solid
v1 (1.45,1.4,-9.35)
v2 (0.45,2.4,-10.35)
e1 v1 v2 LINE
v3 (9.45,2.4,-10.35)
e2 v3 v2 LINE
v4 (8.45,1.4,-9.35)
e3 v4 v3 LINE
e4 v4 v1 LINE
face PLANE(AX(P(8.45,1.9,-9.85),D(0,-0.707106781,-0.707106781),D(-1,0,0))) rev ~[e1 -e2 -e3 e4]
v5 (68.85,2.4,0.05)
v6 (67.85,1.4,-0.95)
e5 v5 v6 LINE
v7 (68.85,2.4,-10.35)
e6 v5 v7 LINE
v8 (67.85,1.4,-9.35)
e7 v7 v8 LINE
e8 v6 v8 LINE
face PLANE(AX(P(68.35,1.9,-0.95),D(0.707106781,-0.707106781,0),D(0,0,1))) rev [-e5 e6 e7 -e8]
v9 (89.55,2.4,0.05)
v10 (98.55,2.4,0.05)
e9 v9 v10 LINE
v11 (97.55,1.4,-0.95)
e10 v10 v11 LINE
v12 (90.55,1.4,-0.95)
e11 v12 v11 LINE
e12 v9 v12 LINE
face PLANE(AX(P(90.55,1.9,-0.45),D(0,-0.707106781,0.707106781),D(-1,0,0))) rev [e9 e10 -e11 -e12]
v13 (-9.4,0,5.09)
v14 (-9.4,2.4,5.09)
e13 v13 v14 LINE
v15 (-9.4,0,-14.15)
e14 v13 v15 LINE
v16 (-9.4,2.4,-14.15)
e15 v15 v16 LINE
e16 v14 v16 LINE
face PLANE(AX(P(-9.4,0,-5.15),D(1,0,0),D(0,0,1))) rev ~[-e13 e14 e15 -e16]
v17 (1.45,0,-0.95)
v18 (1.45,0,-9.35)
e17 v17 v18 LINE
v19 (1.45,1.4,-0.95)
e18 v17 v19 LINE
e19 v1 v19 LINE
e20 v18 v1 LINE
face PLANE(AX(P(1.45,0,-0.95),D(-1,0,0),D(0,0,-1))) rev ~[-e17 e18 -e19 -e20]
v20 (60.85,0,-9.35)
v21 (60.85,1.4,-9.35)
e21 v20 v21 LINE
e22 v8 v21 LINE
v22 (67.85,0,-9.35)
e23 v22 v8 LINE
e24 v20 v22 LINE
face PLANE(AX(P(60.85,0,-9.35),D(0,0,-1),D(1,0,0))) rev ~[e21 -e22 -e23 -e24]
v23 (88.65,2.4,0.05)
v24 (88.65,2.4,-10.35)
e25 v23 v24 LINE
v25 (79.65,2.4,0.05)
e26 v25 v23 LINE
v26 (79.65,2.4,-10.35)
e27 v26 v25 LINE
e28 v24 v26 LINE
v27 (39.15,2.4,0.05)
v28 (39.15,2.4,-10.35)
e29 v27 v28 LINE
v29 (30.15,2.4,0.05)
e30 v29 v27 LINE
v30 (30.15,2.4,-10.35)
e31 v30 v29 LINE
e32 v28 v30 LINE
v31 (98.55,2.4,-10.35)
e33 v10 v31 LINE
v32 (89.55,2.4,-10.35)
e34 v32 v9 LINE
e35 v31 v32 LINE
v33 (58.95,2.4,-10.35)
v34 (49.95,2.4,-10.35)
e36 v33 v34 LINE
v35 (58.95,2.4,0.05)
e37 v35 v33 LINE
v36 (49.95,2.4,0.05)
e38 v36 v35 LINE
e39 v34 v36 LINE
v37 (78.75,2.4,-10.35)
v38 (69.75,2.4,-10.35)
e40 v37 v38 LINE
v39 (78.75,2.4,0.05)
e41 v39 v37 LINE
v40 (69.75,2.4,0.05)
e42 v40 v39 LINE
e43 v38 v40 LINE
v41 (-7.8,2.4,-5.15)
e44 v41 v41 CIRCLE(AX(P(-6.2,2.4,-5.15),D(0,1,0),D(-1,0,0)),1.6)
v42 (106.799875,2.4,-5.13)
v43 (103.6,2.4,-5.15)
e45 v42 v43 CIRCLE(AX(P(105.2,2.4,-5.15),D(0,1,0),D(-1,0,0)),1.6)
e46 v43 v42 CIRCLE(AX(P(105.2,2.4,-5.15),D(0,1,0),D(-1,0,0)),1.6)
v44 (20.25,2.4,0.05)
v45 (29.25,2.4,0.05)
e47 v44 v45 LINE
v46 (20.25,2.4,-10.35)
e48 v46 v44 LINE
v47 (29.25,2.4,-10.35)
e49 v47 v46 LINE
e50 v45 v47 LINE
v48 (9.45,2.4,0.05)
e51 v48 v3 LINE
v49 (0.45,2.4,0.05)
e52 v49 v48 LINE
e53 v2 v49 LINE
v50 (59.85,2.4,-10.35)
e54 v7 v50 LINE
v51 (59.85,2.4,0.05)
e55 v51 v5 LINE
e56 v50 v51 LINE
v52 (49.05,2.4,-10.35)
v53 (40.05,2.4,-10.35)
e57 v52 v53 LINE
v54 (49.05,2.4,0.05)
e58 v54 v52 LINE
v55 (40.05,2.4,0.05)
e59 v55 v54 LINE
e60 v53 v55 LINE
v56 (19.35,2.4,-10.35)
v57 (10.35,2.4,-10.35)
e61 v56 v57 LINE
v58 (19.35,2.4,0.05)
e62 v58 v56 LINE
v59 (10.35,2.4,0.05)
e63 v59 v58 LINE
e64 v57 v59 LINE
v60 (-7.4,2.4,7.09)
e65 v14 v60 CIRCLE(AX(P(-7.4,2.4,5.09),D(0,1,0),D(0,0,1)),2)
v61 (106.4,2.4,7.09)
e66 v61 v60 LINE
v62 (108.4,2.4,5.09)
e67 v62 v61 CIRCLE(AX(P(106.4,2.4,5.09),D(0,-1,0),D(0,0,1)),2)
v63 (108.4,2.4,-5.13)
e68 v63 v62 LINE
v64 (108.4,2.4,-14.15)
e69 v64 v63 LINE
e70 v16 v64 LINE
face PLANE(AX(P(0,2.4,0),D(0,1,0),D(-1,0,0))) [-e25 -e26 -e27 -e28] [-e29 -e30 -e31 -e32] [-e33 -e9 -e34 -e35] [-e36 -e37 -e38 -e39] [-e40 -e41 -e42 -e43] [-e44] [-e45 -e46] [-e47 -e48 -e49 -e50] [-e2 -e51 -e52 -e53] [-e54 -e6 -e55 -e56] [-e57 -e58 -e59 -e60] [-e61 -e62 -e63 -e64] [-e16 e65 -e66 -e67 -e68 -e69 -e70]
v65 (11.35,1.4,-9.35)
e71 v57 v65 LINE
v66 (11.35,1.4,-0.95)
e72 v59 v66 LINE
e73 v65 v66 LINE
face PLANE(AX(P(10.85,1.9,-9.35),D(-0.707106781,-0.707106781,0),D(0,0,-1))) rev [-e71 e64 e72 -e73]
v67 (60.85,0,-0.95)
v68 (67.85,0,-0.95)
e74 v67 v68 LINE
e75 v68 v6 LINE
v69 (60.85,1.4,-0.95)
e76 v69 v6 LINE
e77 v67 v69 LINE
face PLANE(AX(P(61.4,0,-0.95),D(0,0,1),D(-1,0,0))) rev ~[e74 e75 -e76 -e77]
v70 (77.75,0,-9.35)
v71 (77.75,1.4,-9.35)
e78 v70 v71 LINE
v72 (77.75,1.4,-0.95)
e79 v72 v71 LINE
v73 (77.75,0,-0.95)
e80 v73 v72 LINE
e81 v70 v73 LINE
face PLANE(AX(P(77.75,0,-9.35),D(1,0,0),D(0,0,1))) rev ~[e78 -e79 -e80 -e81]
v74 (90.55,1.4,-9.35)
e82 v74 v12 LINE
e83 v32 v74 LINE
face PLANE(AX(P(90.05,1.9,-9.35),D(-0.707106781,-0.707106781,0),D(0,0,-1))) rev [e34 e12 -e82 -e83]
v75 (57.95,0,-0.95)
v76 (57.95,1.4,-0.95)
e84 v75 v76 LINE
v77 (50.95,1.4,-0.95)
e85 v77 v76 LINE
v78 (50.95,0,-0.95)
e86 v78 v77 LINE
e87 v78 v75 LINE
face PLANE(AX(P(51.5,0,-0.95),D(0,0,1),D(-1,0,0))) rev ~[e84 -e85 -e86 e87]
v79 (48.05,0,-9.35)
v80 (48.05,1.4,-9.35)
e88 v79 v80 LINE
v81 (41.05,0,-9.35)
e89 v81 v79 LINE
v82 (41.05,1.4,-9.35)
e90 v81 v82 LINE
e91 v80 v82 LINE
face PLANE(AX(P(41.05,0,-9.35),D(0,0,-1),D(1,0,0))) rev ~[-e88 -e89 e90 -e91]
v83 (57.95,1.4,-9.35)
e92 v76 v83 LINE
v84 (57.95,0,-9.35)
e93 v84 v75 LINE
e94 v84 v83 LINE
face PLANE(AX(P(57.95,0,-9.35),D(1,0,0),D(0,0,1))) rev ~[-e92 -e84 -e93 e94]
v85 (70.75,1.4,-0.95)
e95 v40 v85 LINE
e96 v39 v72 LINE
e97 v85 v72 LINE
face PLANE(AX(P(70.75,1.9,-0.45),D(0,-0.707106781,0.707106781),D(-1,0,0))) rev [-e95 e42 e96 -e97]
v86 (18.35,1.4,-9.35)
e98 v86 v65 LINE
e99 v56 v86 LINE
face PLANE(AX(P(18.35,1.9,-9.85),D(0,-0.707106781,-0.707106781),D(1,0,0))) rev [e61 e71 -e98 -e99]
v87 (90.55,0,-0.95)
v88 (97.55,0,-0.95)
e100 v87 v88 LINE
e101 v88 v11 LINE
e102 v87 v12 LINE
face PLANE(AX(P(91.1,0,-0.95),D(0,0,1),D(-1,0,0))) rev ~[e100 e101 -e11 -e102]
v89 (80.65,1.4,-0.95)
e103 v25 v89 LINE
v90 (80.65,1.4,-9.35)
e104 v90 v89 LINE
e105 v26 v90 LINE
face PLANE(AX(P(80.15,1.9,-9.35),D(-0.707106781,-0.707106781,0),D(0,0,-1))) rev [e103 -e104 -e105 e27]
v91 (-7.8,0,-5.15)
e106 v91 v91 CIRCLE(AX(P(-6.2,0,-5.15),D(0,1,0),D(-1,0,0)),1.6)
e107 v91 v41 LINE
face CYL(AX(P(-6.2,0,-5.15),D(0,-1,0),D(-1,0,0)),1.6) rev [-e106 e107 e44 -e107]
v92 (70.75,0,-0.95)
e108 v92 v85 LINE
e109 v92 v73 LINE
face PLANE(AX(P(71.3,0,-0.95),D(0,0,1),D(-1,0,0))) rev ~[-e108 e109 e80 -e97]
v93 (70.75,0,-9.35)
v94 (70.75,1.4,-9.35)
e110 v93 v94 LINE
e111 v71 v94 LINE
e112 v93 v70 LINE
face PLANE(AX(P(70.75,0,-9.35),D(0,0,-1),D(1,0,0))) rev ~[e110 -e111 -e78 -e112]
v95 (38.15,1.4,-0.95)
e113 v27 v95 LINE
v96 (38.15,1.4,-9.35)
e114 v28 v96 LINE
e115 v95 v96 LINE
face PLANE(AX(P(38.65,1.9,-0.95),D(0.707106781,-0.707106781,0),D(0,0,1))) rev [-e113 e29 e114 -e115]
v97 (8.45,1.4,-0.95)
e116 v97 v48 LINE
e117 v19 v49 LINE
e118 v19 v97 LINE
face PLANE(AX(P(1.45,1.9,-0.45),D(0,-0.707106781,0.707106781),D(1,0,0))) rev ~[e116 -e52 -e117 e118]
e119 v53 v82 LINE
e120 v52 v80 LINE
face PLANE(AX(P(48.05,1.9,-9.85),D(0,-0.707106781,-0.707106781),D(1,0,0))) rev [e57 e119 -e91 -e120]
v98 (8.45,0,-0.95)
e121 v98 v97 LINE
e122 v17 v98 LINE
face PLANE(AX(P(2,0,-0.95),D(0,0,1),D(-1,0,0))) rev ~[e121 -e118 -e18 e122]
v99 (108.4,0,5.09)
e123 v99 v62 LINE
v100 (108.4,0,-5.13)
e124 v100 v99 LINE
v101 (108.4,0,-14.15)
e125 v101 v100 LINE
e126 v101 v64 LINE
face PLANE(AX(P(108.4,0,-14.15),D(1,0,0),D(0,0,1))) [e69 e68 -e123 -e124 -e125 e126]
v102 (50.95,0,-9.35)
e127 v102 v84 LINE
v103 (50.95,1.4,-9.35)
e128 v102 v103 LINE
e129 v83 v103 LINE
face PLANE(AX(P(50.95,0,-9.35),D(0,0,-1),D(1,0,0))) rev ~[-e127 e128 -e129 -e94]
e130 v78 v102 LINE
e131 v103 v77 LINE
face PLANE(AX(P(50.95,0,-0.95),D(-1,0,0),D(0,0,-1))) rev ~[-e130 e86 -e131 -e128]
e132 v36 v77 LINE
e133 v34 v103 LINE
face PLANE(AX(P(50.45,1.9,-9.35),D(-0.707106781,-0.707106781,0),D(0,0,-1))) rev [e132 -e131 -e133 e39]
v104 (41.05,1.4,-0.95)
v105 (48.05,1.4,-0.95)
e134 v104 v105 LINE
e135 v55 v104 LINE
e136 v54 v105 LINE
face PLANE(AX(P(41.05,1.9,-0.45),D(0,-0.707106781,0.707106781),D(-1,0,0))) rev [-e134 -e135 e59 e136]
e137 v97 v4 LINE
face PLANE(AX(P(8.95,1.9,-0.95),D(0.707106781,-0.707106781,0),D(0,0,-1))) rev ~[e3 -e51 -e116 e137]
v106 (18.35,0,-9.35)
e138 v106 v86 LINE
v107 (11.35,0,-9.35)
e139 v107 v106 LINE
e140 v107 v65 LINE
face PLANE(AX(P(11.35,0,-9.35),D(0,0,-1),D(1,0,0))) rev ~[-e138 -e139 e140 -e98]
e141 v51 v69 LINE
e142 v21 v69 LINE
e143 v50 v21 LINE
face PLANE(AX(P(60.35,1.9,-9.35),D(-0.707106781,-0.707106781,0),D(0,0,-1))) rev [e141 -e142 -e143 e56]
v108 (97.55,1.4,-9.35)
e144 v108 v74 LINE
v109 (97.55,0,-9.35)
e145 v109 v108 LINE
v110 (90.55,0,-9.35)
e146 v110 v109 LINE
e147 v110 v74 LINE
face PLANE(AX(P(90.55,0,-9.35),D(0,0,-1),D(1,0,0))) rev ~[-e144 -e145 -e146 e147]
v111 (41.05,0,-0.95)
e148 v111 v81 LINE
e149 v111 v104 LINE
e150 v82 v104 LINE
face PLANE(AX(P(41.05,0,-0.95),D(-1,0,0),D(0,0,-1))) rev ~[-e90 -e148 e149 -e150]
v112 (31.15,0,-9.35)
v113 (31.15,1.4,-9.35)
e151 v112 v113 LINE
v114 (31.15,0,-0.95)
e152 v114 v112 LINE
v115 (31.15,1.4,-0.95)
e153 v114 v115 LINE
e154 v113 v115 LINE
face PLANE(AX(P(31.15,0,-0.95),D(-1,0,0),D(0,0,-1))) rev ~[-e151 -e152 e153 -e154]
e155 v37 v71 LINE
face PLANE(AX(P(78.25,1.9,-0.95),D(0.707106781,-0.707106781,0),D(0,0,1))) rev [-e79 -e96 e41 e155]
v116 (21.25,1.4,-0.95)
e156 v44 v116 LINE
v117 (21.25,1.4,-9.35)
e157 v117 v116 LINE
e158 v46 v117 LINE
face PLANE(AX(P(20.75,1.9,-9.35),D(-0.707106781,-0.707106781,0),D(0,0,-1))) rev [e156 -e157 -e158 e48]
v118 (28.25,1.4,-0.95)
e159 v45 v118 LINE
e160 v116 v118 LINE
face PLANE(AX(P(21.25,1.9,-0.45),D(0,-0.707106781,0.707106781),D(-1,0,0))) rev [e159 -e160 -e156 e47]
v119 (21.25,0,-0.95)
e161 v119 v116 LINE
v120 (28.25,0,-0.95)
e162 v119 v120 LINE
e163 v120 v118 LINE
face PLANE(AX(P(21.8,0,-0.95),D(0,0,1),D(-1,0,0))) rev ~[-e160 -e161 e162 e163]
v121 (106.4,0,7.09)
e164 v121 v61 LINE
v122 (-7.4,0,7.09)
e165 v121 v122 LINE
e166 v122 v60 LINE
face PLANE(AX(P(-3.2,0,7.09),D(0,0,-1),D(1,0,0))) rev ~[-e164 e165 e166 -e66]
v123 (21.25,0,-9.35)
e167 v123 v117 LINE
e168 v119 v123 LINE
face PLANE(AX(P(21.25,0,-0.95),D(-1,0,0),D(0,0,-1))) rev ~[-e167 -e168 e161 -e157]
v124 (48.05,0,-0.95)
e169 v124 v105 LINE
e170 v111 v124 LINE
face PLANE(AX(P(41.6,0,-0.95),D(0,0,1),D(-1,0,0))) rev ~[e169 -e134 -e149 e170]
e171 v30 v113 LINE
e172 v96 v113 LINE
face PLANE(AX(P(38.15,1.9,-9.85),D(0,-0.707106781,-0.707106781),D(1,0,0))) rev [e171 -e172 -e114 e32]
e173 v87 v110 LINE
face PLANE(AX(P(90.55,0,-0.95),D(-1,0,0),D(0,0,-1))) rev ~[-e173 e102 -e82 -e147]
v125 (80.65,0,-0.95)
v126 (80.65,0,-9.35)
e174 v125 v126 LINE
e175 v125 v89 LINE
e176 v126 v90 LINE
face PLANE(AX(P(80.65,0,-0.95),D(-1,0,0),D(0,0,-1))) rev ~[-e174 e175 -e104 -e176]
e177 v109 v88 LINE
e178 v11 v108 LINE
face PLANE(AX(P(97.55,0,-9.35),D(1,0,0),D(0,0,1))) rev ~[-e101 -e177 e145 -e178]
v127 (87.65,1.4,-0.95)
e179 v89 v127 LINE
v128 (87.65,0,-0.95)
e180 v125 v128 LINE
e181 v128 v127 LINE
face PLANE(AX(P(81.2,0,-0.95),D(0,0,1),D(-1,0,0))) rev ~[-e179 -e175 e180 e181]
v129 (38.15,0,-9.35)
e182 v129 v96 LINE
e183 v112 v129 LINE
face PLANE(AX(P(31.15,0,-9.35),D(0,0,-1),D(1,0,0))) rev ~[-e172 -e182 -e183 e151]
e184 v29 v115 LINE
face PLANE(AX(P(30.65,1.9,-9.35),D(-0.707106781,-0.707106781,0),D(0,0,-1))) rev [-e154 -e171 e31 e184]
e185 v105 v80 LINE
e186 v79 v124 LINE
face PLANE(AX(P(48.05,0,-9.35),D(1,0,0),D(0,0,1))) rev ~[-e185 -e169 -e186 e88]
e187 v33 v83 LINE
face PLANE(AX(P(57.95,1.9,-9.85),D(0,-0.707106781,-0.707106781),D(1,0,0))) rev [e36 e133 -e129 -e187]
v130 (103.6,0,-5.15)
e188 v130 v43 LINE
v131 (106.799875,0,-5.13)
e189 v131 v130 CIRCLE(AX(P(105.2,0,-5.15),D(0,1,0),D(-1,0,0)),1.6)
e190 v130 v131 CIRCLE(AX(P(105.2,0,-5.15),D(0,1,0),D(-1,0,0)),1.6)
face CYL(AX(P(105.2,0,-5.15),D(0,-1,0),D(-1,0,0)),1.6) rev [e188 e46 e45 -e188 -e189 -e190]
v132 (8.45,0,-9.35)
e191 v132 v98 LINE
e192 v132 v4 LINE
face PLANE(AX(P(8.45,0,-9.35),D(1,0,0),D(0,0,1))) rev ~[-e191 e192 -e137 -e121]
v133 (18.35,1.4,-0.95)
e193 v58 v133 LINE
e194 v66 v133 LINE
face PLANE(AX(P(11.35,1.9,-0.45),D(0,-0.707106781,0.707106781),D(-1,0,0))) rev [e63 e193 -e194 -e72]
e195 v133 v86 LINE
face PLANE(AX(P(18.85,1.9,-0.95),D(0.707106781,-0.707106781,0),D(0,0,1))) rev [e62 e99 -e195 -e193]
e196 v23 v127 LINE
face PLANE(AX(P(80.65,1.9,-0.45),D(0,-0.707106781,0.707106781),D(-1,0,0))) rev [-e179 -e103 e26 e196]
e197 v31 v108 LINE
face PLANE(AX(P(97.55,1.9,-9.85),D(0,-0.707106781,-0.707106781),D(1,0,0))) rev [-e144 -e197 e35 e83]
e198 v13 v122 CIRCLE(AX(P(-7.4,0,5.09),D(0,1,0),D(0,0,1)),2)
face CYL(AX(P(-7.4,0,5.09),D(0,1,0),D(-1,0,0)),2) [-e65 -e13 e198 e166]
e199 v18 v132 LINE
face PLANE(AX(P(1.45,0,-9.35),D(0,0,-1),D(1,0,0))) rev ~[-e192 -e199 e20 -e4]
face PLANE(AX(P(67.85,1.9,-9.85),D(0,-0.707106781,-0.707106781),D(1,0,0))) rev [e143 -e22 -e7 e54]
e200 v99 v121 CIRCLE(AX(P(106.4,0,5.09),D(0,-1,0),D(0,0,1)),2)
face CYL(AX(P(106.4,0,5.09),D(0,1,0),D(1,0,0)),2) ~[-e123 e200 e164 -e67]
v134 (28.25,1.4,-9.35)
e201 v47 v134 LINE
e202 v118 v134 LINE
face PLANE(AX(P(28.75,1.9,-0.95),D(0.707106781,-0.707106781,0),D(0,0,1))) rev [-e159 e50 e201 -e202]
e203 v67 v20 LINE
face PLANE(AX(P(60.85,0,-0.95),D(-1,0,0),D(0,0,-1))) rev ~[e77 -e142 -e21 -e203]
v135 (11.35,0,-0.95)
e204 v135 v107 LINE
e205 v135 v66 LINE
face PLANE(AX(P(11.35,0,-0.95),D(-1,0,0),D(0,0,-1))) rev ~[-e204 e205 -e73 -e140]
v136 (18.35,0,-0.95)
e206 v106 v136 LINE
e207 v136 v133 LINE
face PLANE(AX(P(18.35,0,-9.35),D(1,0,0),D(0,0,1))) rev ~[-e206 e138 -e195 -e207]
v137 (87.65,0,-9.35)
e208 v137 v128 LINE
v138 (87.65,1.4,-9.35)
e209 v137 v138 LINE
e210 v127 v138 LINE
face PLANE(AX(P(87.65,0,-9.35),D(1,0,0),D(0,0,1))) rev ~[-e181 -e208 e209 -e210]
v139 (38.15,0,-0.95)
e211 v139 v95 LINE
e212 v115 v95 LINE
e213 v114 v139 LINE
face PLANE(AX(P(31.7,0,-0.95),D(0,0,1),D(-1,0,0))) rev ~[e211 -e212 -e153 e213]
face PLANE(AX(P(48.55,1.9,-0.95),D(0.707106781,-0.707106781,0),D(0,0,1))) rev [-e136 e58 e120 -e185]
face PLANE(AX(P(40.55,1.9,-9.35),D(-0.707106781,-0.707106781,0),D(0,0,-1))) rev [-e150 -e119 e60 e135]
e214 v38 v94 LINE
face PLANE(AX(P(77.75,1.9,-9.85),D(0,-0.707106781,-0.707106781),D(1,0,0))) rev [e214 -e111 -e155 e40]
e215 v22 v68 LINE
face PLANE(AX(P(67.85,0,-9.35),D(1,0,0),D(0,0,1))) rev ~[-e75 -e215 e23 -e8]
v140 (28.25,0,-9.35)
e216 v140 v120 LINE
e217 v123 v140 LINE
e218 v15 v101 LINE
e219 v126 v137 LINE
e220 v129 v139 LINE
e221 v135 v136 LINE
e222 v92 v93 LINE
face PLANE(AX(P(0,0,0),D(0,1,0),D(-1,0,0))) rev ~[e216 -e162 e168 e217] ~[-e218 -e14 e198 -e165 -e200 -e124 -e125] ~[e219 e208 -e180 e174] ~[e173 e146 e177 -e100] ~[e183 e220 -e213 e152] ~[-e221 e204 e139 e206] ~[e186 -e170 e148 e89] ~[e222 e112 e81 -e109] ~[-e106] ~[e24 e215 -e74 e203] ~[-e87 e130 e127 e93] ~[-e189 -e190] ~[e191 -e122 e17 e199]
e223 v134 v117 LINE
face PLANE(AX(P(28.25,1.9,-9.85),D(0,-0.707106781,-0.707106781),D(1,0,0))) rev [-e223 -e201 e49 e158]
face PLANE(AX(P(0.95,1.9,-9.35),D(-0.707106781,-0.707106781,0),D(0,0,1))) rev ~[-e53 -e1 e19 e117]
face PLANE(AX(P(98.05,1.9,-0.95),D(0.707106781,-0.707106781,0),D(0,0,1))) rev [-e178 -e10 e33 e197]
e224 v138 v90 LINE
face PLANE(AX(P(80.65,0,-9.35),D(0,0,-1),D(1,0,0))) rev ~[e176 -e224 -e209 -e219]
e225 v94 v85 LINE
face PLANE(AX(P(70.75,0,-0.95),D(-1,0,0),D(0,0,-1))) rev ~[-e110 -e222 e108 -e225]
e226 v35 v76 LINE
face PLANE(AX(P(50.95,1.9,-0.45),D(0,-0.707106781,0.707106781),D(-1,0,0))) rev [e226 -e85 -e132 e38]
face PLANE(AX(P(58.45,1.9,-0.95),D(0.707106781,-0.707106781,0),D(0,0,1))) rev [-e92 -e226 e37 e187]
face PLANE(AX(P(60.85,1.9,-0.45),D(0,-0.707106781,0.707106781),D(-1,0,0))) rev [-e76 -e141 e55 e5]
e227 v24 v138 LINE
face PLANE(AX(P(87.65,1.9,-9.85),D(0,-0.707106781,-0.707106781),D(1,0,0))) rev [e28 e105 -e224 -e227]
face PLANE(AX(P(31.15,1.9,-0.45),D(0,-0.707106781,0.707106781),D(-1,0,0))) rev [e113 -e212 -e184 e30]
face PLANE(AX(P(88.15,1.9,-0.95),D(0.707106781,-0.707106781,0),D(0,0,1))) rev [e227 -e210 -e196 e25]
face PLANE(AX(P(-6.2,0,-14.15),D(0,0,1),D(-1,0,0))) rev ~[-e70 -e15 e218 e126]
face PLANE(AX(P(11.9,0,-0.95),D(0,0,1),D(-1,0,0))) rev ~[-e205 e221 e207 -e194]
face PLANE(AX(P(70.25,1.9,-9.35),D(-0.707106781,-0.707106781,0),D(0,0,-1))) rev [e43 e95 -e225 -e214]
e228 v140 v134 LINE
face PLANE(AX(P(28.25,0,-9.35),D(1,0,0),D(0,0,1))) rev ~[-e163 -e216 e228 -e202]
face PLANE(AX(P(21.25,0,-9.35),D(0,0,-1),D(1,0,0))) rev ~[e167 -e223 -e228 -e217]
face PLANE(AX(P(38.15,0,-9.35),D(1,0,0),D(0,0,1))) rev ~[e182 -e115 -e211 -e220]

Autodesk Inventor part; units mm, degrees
ref_plane "YZ Plane" through (0, 0, 0) normal (1, 0, 0) x (0, 1, 0)
ref_plane "XZ Plane" through (0, 0, 0) normal (0, 1, 0) x (-1, 0, 0)
ref_plane "XY Plane" through (0, 0, 0) normal (0, 0, 1) x (1, 0, 0)
sketch "Sketch1" plane through (0, 0, 0) normal (0, 1, 0) x (-1, 0, 0)
  line L0 (0, 0) -> (-9.9, 0)
  line L1 (0, 0) -> (0, -10.3)
  line L2 (0, -10.3) -> (-9.9, -10.3)
  line L3 (-9.9, -10.3) -> (-9.9, 0)
  line L4 (-9.9, -10.3) -> (-9.4, -10.3)
  line L5 (-9.4, -10.3) -> (-9.4, 0)
  line L6 (0, -10.3) -> (-0.5, -10.3)
  line L7 (-0.5, -10.3) -> (-0.5, 0)
  line L8 (-0.5, 0.85) -> (-9.9, 0.85)
  line L9 (-9.9, 0.85) -> (-9.9, 0)
  line L10 (0, 0) -> (0, 0.85)
  line L11 (0, 0.85) -> (-0.5, 0.85)
  line L12 (0, -10.3) -> (0, -11.15)
  line L13 (0, -11.15) -> (-9.9, -11.15)
  line L14 (-9.9, -11.15) -> (-9.9, -10.3)
  line L15 (-9.9, -11.15) -> (-19.8, -11.15)
  line L16 (-19.8, -11.15) -> (-19.8, -10.3)
  line L17 (-19.8, -10.3) -> (-19.8, 0)
  line L18 (-19.3, -10.3) -> (-19.3, 0)
  line L19 (-9.9, -10.3) -> (-19.8, -10.3)
  line L20 (-10.4, -10.3) -> (-10.4, 0)
  line L21 (-9.9, 0) -> (-9.9, -10.3)
  line L22 (-9.9, 0) -> (-9.9, 0.85)
  line L23 (-9.9, 0.85) -> (-10.4, 0.85)
  line L24 (-10.4, 0.85) -> (-19.8, 0.85)
  line L25 (-9.9, 0) -> (-19.8, 0)
  line L26 (-19.8, 0.85) -> (-19.8, 0)
  line L27 (-19.8, -11.15) -> (-29.7, -11.15)
  line L28 (-29.7, -11.15) -> (-29.7, -10.3)
  line L29 (-29.7, -10.3) -> (-29.7, 0)
  line L30 (-29.2, -10.3) -> (-29.2, 0)
  line L31 (-19.8, -10.3) -> (-29.7, -10.3)
  line L32 (-20.3, -10.3) -> (-20.3, 0)
  line L33 (-19.8, 0) -> (-19.8, -10.3)
  line L34 (-19.8, 0) -> (-19.8, 0.85)
  line L35 (-19.8, 0.85) -> (-20.3, 0.85)
  line L36 (-20.3, 0.85) -> (-29.7, 0.85)
  line L37 (-19.8, 0) -> (-29.7, 0)
  line L38 (-29.7, 0.85) -> (-29.7, 0)
  line L39 (-29.7, -11.15) -> (-39.6, -11.15)
  line L40 (-39.6, -11.15) -> (-39.6, -10.3)
  line L41 (-39.6, -10.3) -> (-39.6, 0)
  line L42 (-39.1, -10.3) -> (-39.1, 0)
  line L43 (-29.7, -10.3) -> (-39.6, -10.3)
  line L44 (-30.2, -10.3) -> (-30.2, 0)
  line L45 (-29.7, 0) -> (-29.7, -10.3)
  line L46 (-29.7, 0) -> (-29.7, 0.85)
  line L47 (-29.7, 0.85) -> (-30.2, 0.85)
  line L48 (-30.2, 0.85) -> (-39.6, 0.85)
  line L49 (-29.7, 0) -> (-39.6, 0)
  line L50 (-39.6, 0.85) -> (-39.6, 0)
  line L51 (-39.6, -11.15) -> (-49.5, -11.15)
  line L52 (-49.5, -11.15) -> (-49.5, -10.3)
  line L53 (-49.5, -10.3) -> (-49.5, 0)
  line L54 (-49, -10.3) -> (-49, 0)
  line L55 (-39.6, -10.3) -> (-49.5, -10.3)
  line L56 (-40.1, -10.3) -> (-40.1, 0)
  line L57 (-39.6, 0) -> (-39.6, -10.3)
  line L58 (-39.6, 0) -> (-39.6, 0.85)
  line L59 (-39.6, 0.85) -> (-40.1, 0.85)
  line L60 (-40.1, 0.85) -> (-49.5, 0.85)
  line L61 (-39.6, 0) -> (-49.5, 0)
  line L62 (-49.5, 0.85) -> (-49.5, 0)
  line L63 (-49.5, -11.15) -> (-59.4, -11.15)
  line L64 (-59.4, -11.15) -> (-59.4, -10.3)
  line L65 (-59.4, -10.3) -> (-59.4, 0)
  line L66 (-58.9, -10.3) -> (-58.9, 0)
  line L67 (-49.5, -10.3) -> (-59.4, -10.3)
  line L68 (-50, -10.3) -> (-50, 0)
  line L69 (-49.5, 0) -> (-49.5, -10.3)
  line L70 (-49.5, 0) -> (-49.5, 0.85)
  line L71 (-49.5, 0.85) -> (-50, 0.85)
  line L72 (-50, 0.85) -> (-59.4, 0.85)
  line L73 (-49.5, 0) -> (-59.4, 0)
  line L74 (-59.4, 0.85) -> (-59.4, 0)
  line L75 (-59.4, -11.15) -> (-69.3, -11.15)
  line L76 (-69.3, -11.15) -> (-69.3, -10.3)
  line L77 (-69.3, -10.3) -> (-69.3, 0)
  line L78 (-68.8, -10.3) -> (-68.8, 0)
  line L79 (-59.4, -10.3) -> (-69.3, -10.3)
  line L80 (-59.9, -10.3) -> (-59.9, 0)
  line L81 (-59.4, 0) -> (-59.4, -10.3)
  line L82 (-59.4, 0) -> (-59.4, 0.85)
  line L83 (-59.4, 0.85) -> (-59.9, 0.85)
  line L84 (-59.9, 0.85) -> (-69.3, 0.85)
  line L85 (-59.4, 0) -> (-69.3, 0)
  line L86 (-69.3, 0.85) -> (-69.3, 0)
  line L87 (-69.3, -11.15) -> (-79.2, -11.15)
  line L88 (-79.2, -11.15) -> (-79.2, -10.3)
  line L89 (-79.2, -10.3) -> (-79.2, 0)
  line L90 (-78.7, -10.3) -> (-78.7, 0)
  line L91 (-69.3, -10.3) -> (-79.2, -10.3)
  line L92 (-69.8, -10.3) -> (-69.8, 0)
  line L93 (-69.3, 0) -> (-69.3, -10.3)
  line L94 (-69.3, 0) -> (-69.3, 0.85)
  line L95 (-69.3, 0.85) -> (-69.8, 0.85)
  line L96 (-69.8, 0.85) -> (-79.2, 0.85)
  line L97 (-69.3, 0) -> (-79.2, 0)
  line L98 (-79.2, 0.85) -> (-79.2, 0)
  line L99 (-79.2, -11.15) -> (-89.1, -11.15)
  line L100 (-89.1, -11.15) -> (-89.1, -10.3)
  line L101 (-89.1, -10.3) -> (-89.1, 0)
  line L102 (-88.6, -10.3) -> (-88.6, 0)
  line L103 (-79.2, -10.3) -> (-89.1, -10.3)
  line L104 (-79.7, -10.3) -> (-79.7, 0)
  line L105 (-79.2, 0) -> (-79.2, -10.3)
  line L106 (-79.2, 0) -> (-79.2, 0.85)
  line L107 (-79.2, 0.85) -> (-79.7, 0.85)
  line L108 (-79.7, 0.85) -> (-89.1, 0.85)
  line L109 (-79.2, 0) -> (-89.1, 0)
  line L110 (-89.1, 0.85) -> (-89.1, 0)
  line L111 (-89.1, -11.15) -> (-99, -11.15)
  line L112 (-99, -11.15) -> (-99, -10.3)
  line L113 (-99, -10.3) -> (-99, 0)
  line L114 (-98.5, -10.3) -> (-98.5, 0)
  line L115 (-89.1, -10.3) -> (-99, -10.3)
  line L116 (-89.6, -10.3) -> (-89.6, 0)
  line L117 (-89.1, 0) -> (-89.1, -10.3)
  line L118 (-89.1, 0) -> (-89.1, 0.85)
  line L119 (-89.1, 0.85) -> (-89.6, 0.85)
  line L120 (-89.6, 0.85) -> (-99, 0.85)
  line L121 (-89.1, 0) -> (-99, 0)
  line L122 (-99, 0.85) -> (-99, 0)
  line L123 (0, -11.15) -> (0, 0.85)
  line L124 (0, -11.15) -> (0, -14.15)
  line L125 (0, -14.15) -> (0, -14.15)
  line L126 (-99, 0.85) -> (-102, 0.85)
  line L127 (-102, 0.85) -> (-102, 3.85)
  line L128 (0, -14.15) -> (-102, -14.15)
  line L129 (-102, -14.15) -> (-102, 3.85)
  line L130 (0, 3.89) -> (0, -14.15)
  line L131 (0, -11.15) -> (0, -11.15)
  line L132 (0, 0.85) -> (0, 0.85)
  line L133 (0, -11.15) -> (-2, -11.15)
  line L134 (-2, -11.15) -> (-2, 0.85)
  line L135 (0, -14.15) -> (3.2, -14.15)
  line L136 (3.2, -14.15) -> (3.2, 3.89)
  line L137 (3.2, 3.89) -> (0, 3.89)
  line L138 (0, -11.15) -> (3.2, -11.15)
  line L139 (0, 0.85) -> (3.2, 0.85)
  line L140 (3.2, -14.15) -> (6.2, -14.15)
  line L141 (6.2, 3.89) -> (3.2, 3.89)
  line L142 (0, -14.15) -> (6.2, -14.15)
  line L143 (-49.5, 3.85) -> (-49.5, 0.85)
  line L144 (6.2, 3.89) -> (6.2, 7.09)
  line L145 (6.2, 7.09) -> (6.2, 13.49)
  line L146 (3.2, 3.89) -> (3.2, 13.45)
  line L147 (-102, 3.85) -> (-102, 13.45)
  line L148 (0, 3.89) -> (0, 13.49)
  line L149 (-49.5, 3.85) -> (-87.8335, 3.85)
  line L150 (-49.5, 3.85) -> (-11.1665, 3.89)
  line L151 (-11.1665, 3.89) -> (0, 3.89)
  line L152 (-87.8335, 3.85) -> (-102, 3.85)
  line L153 (-102, -14.15) -> (-105, -14.15)
  line L154 (-105, 13.49) -> (6.2, 13.49)
  line L155 (6.2, 7.09) -> (-105, 7.09)
  line L156 (-49.5, 3.85) -> (-49.5, 7.09)
  line L157 (-49.5, 7.09) -> (-49.5, 10.29)
  line L158 (-49.5, 10.29) -> (-11.1665, 10.29)
  line L159 (-49.5, 10.29) -> (-87.8335, 10.29)
  line L160 (-91.0335, 13.49) -> (-84.6335, 13.49)
  line L161 (-84.6335, 13.49) -> (-84.6335, 7.09)
  line L162 (-84.6335, 7.09) -> (-91.0335, 7.09)
  line L163 (-91.0335, 7.09) -> (-91.0335, 13.49)
  line L164 (-91.0335, 13.49) -> (-84.6335, 7.09) construction
  line L165 (-84.6335, 13.49) -> (-91.0335, 7.09) construction
  line L166 (-14.3665, 13.49) -> (-7.9665, 13.49)
  line L167 (-7.9665, 13.49) -> (-7.9665, 7.09)
  line L168 (-7.9665, 7.09) -> (-14.3665, 7.09)
  line L169 (-14.3665, 7.09) -> (-14.3665, 13.49)
  line L170 (-14.3665, 13.49) -> (-7.9665, 7.09) construction
  line L171 (-7.9665, 13.49) -> (-14.3665, 7.09) construction
  circle A0 centre (-11.1665, 10.29) radius 1.6
  circle A1 centre (-87.8335, 10.29) radius 1.6
  line L172 (6.2, -14.15) -> (9.4, -14.15)
  line L173 (9.4, -14.15) -> (9.4, 3.89)
  line L174 (9.4, 3.89) -> (6.2, 3.89)
  line L175 (9.4, 3.89) -> (9.4, 7.09)
  line L176 (9.4, 7.09) -> (6.2, 7.09)
  line L177 (-105, 7.09) -> (-108.2, 7.09)
  line L178 (-108.2, -14.15) -> (-105, -14.15)
  line L179 (-105, 13.49) -> (-105, 7.09)
  line L180 (-102, -14.15) -> (-108.4, -14.15)
  line L181 (-108.4, -14.15) -> (-108.4, 7.09)
  line L182 (-108.4, 7.09) -> (-108.2, 7.09)
  line L183 (-108.4, -5.13) -> (-105.2, -5.13)
  line L184 (3.2, -11.15) -> (3.2, 0.85)
  line L185 (3.2, -5.15) -> (9.4, -5.15)
  line L186 (3.2, -5.15) -> (9.4, -5.15) construction
  line L187 (9.4, -5.15) -> (6.2, -5.15)
  circle A2 centre (6.2, -5.15) radius 1.6
  circle A3 centre (-105.2, -5.15) radius 1.6
  line L188 (0, 0) -> (-9.9, 0)
  line L189 (-4.95, 0) -> (-4.95, -10.3)
  line L190 (-8.45, -0.95) -> (-1.45, -0.95)
  line L191 (-1.45, -0.95) -> (-1.45, -9.35)
  line L192 (-1.45, -9.35) -> (-8.45, -9.35)
  line L193 (-8.45, -9.35) -> (-8.45, -0.95)
  line L194 (-8.45, -0.95) -> (-1.45, -9.35) construction
  line L195 (-1.45, -0.95) -> (-8.45, -9.35) construction
  line L196 (-9.4, 0) -> (-0.5, 0)
  point P0 (-2, 0)
  point P1 (-2, -10.3)
  point P2 (0, 0.85)
  point P3 (0, 7.09)
  point P4 (3.2, 7.09)
  point P5 (-4.95, -5.15)
  dimension "d0" = 9.9
  dimension "d1" = 10.3
  dimension "d2" = 0.5
  dimension "d3" = 0.5
  dimension "d6" = 0.85
  dimension "d7" = 0.85
  dimension "d10" = 9.9
  dimension "d15" = 3
  dimension "d16" = 0
  dimension "d19" = 3
  dimension "d20" = 2
  dimension "d30" = 3.2
  dimension "d31" = 3
  dimension "d32" = 3
  dimension "d35" = 3.2
  dimension "d36" = 6.4
  dimension "d38" = 38.3335
  dimension "d45" = 3.2
  dimension "d47" = 38.3335
  dimension "d48" = 6.4
  dimension "d49" = 6.4
  dimension "d50" = 3.2
  dimension "d51" = 3.2
  dimension "d53" = 6.4
  dimension "d58" = 3.2
  dimension "d59" = 3.2
  dimension "d60" = 3.2
  dimension "d63" = 7
  dimension "d64" = 8.4
  dimension "d72" = 8.9
extrude "Extrusion6" add sketch "Sketch1" along normal blind 2.4 contours L1 L2 L7 L0 | L10 L139 L136 L138 L12 L1 | L0 L134 L8 L11 L10 | L7 L2 L134 L192 L191 L190 L0 | L12 L13 L134 L2 | L11 L8 L23 L24 L35 L36 L47 L48 L59 L60 L143 L150 L151 L130 | L130 L137 L136 L139 | L134 L190 L189 L0 | L0 L9 L8 L134 | L124 L128 L129 L126 L122 L113 L112 L111 L99 L87 L75 L63 L51 L39 L27 L15 L13 | L138 L136 L135 L124 | L148 L155 L146 L137 | L151 L150 L156 L155 L148 | L136 L141 L174 L173 L185 A2 | L189 L190 L193 L192 L2 L5 L0 | L190 L191 L192 L134 | L134 L192 L189 L190 | L134 L13 L14 L2 | L2 L189 L192 L134 | L136 L185 A2 L173 L172 L140 | L146 L155 L144 L141 | L5 L2 L3 L0 | L189 L192 L193 L190 | L9 L25 L26 L24 L23 | L15 L16 L19 L14 | L153 L178 L180 L181 L182 L177 L155 L147 L127 L129 | L144 L176 L175 L174 | L143 L71 L72 L83 L84 L95 L96 L107 L108 L119 L120 L126 L127 L152 L149 | L149 L152 L147 L155 L156 | L3 L19 L20 L25 | L27 L28 L31 L16 | L60 L59 L50 L61 L62 | L62 L73 L74 L72 L71 | L20 L19 L18 L25 | L26 L37 L38 L36 L35 | L31 L32 L37 L17 | L17 L25 L18 L19 | L39 L40 L43 L28 | L120 L119 L110 L121 L122 | L61 L54 L55 L53 | L53 L67 L68 L73 | L31 L30 L37 L32 | L43 L44 L49 L29 | L29 L37 L30 L31 | L51 L52 L55 L40 | L121 L114 L115 L113 | L48 L47 L38 L49 L50 | L52 L63 L64 L67 | L61 L56 L55 L54 | L68 L67 L66 L73 | L74 L85 L86 L84 L83 | L43 L42 L49 L44 | L55 L56 L61 L41 | L41 L49 L42 L43 | L108 L107 L98 L109 L110 | L115 L100 L111 L112 | L121 L116 L115 L114 | L66 L67 L65 L73 | L65 L79 L80 L85 | L75 L76 L79 L64 | L109 L102 L103 L101 | L101 L115 L116 L121 | L80 L79 L78 L85 | L86 L97 L98 L96 L95 | L87 L88 L91 L76 | L103 L88 L99 L100 | L109 L104 L103 L102 | L78 L79 L77 L85 | L77 L91 L92 L97 | L97 L90 L91 L89 | L89 L103 L104 L109 | L92 L91 L90 L97
extrude "Extrusion7" cut sketch "Sketch1" along normal through all contours L190 L191 L192 L134 | L134 L192 L189 L190 | L189 L192 L193 L190
chamfer "Chamfer2" distance 1 angle 45 4 edges at (4.95, 2.4, -9.35) (1.45, 2.4, -5.15) (8.45, 2.4, -5.15) (4.95, 2.4, -0.95)
pattern_linear "Rectangular Pattern2" count 10 spacing 9.9 along (1, 0, 0) of "Extrusion7", "Chamfer2"
fillet "Fillet1" radius 2 2 edges at (108.4, 1.2, 7.09) (-9.4, 1.2, 7.09)
properties part number "10x led strip holder top cover"
